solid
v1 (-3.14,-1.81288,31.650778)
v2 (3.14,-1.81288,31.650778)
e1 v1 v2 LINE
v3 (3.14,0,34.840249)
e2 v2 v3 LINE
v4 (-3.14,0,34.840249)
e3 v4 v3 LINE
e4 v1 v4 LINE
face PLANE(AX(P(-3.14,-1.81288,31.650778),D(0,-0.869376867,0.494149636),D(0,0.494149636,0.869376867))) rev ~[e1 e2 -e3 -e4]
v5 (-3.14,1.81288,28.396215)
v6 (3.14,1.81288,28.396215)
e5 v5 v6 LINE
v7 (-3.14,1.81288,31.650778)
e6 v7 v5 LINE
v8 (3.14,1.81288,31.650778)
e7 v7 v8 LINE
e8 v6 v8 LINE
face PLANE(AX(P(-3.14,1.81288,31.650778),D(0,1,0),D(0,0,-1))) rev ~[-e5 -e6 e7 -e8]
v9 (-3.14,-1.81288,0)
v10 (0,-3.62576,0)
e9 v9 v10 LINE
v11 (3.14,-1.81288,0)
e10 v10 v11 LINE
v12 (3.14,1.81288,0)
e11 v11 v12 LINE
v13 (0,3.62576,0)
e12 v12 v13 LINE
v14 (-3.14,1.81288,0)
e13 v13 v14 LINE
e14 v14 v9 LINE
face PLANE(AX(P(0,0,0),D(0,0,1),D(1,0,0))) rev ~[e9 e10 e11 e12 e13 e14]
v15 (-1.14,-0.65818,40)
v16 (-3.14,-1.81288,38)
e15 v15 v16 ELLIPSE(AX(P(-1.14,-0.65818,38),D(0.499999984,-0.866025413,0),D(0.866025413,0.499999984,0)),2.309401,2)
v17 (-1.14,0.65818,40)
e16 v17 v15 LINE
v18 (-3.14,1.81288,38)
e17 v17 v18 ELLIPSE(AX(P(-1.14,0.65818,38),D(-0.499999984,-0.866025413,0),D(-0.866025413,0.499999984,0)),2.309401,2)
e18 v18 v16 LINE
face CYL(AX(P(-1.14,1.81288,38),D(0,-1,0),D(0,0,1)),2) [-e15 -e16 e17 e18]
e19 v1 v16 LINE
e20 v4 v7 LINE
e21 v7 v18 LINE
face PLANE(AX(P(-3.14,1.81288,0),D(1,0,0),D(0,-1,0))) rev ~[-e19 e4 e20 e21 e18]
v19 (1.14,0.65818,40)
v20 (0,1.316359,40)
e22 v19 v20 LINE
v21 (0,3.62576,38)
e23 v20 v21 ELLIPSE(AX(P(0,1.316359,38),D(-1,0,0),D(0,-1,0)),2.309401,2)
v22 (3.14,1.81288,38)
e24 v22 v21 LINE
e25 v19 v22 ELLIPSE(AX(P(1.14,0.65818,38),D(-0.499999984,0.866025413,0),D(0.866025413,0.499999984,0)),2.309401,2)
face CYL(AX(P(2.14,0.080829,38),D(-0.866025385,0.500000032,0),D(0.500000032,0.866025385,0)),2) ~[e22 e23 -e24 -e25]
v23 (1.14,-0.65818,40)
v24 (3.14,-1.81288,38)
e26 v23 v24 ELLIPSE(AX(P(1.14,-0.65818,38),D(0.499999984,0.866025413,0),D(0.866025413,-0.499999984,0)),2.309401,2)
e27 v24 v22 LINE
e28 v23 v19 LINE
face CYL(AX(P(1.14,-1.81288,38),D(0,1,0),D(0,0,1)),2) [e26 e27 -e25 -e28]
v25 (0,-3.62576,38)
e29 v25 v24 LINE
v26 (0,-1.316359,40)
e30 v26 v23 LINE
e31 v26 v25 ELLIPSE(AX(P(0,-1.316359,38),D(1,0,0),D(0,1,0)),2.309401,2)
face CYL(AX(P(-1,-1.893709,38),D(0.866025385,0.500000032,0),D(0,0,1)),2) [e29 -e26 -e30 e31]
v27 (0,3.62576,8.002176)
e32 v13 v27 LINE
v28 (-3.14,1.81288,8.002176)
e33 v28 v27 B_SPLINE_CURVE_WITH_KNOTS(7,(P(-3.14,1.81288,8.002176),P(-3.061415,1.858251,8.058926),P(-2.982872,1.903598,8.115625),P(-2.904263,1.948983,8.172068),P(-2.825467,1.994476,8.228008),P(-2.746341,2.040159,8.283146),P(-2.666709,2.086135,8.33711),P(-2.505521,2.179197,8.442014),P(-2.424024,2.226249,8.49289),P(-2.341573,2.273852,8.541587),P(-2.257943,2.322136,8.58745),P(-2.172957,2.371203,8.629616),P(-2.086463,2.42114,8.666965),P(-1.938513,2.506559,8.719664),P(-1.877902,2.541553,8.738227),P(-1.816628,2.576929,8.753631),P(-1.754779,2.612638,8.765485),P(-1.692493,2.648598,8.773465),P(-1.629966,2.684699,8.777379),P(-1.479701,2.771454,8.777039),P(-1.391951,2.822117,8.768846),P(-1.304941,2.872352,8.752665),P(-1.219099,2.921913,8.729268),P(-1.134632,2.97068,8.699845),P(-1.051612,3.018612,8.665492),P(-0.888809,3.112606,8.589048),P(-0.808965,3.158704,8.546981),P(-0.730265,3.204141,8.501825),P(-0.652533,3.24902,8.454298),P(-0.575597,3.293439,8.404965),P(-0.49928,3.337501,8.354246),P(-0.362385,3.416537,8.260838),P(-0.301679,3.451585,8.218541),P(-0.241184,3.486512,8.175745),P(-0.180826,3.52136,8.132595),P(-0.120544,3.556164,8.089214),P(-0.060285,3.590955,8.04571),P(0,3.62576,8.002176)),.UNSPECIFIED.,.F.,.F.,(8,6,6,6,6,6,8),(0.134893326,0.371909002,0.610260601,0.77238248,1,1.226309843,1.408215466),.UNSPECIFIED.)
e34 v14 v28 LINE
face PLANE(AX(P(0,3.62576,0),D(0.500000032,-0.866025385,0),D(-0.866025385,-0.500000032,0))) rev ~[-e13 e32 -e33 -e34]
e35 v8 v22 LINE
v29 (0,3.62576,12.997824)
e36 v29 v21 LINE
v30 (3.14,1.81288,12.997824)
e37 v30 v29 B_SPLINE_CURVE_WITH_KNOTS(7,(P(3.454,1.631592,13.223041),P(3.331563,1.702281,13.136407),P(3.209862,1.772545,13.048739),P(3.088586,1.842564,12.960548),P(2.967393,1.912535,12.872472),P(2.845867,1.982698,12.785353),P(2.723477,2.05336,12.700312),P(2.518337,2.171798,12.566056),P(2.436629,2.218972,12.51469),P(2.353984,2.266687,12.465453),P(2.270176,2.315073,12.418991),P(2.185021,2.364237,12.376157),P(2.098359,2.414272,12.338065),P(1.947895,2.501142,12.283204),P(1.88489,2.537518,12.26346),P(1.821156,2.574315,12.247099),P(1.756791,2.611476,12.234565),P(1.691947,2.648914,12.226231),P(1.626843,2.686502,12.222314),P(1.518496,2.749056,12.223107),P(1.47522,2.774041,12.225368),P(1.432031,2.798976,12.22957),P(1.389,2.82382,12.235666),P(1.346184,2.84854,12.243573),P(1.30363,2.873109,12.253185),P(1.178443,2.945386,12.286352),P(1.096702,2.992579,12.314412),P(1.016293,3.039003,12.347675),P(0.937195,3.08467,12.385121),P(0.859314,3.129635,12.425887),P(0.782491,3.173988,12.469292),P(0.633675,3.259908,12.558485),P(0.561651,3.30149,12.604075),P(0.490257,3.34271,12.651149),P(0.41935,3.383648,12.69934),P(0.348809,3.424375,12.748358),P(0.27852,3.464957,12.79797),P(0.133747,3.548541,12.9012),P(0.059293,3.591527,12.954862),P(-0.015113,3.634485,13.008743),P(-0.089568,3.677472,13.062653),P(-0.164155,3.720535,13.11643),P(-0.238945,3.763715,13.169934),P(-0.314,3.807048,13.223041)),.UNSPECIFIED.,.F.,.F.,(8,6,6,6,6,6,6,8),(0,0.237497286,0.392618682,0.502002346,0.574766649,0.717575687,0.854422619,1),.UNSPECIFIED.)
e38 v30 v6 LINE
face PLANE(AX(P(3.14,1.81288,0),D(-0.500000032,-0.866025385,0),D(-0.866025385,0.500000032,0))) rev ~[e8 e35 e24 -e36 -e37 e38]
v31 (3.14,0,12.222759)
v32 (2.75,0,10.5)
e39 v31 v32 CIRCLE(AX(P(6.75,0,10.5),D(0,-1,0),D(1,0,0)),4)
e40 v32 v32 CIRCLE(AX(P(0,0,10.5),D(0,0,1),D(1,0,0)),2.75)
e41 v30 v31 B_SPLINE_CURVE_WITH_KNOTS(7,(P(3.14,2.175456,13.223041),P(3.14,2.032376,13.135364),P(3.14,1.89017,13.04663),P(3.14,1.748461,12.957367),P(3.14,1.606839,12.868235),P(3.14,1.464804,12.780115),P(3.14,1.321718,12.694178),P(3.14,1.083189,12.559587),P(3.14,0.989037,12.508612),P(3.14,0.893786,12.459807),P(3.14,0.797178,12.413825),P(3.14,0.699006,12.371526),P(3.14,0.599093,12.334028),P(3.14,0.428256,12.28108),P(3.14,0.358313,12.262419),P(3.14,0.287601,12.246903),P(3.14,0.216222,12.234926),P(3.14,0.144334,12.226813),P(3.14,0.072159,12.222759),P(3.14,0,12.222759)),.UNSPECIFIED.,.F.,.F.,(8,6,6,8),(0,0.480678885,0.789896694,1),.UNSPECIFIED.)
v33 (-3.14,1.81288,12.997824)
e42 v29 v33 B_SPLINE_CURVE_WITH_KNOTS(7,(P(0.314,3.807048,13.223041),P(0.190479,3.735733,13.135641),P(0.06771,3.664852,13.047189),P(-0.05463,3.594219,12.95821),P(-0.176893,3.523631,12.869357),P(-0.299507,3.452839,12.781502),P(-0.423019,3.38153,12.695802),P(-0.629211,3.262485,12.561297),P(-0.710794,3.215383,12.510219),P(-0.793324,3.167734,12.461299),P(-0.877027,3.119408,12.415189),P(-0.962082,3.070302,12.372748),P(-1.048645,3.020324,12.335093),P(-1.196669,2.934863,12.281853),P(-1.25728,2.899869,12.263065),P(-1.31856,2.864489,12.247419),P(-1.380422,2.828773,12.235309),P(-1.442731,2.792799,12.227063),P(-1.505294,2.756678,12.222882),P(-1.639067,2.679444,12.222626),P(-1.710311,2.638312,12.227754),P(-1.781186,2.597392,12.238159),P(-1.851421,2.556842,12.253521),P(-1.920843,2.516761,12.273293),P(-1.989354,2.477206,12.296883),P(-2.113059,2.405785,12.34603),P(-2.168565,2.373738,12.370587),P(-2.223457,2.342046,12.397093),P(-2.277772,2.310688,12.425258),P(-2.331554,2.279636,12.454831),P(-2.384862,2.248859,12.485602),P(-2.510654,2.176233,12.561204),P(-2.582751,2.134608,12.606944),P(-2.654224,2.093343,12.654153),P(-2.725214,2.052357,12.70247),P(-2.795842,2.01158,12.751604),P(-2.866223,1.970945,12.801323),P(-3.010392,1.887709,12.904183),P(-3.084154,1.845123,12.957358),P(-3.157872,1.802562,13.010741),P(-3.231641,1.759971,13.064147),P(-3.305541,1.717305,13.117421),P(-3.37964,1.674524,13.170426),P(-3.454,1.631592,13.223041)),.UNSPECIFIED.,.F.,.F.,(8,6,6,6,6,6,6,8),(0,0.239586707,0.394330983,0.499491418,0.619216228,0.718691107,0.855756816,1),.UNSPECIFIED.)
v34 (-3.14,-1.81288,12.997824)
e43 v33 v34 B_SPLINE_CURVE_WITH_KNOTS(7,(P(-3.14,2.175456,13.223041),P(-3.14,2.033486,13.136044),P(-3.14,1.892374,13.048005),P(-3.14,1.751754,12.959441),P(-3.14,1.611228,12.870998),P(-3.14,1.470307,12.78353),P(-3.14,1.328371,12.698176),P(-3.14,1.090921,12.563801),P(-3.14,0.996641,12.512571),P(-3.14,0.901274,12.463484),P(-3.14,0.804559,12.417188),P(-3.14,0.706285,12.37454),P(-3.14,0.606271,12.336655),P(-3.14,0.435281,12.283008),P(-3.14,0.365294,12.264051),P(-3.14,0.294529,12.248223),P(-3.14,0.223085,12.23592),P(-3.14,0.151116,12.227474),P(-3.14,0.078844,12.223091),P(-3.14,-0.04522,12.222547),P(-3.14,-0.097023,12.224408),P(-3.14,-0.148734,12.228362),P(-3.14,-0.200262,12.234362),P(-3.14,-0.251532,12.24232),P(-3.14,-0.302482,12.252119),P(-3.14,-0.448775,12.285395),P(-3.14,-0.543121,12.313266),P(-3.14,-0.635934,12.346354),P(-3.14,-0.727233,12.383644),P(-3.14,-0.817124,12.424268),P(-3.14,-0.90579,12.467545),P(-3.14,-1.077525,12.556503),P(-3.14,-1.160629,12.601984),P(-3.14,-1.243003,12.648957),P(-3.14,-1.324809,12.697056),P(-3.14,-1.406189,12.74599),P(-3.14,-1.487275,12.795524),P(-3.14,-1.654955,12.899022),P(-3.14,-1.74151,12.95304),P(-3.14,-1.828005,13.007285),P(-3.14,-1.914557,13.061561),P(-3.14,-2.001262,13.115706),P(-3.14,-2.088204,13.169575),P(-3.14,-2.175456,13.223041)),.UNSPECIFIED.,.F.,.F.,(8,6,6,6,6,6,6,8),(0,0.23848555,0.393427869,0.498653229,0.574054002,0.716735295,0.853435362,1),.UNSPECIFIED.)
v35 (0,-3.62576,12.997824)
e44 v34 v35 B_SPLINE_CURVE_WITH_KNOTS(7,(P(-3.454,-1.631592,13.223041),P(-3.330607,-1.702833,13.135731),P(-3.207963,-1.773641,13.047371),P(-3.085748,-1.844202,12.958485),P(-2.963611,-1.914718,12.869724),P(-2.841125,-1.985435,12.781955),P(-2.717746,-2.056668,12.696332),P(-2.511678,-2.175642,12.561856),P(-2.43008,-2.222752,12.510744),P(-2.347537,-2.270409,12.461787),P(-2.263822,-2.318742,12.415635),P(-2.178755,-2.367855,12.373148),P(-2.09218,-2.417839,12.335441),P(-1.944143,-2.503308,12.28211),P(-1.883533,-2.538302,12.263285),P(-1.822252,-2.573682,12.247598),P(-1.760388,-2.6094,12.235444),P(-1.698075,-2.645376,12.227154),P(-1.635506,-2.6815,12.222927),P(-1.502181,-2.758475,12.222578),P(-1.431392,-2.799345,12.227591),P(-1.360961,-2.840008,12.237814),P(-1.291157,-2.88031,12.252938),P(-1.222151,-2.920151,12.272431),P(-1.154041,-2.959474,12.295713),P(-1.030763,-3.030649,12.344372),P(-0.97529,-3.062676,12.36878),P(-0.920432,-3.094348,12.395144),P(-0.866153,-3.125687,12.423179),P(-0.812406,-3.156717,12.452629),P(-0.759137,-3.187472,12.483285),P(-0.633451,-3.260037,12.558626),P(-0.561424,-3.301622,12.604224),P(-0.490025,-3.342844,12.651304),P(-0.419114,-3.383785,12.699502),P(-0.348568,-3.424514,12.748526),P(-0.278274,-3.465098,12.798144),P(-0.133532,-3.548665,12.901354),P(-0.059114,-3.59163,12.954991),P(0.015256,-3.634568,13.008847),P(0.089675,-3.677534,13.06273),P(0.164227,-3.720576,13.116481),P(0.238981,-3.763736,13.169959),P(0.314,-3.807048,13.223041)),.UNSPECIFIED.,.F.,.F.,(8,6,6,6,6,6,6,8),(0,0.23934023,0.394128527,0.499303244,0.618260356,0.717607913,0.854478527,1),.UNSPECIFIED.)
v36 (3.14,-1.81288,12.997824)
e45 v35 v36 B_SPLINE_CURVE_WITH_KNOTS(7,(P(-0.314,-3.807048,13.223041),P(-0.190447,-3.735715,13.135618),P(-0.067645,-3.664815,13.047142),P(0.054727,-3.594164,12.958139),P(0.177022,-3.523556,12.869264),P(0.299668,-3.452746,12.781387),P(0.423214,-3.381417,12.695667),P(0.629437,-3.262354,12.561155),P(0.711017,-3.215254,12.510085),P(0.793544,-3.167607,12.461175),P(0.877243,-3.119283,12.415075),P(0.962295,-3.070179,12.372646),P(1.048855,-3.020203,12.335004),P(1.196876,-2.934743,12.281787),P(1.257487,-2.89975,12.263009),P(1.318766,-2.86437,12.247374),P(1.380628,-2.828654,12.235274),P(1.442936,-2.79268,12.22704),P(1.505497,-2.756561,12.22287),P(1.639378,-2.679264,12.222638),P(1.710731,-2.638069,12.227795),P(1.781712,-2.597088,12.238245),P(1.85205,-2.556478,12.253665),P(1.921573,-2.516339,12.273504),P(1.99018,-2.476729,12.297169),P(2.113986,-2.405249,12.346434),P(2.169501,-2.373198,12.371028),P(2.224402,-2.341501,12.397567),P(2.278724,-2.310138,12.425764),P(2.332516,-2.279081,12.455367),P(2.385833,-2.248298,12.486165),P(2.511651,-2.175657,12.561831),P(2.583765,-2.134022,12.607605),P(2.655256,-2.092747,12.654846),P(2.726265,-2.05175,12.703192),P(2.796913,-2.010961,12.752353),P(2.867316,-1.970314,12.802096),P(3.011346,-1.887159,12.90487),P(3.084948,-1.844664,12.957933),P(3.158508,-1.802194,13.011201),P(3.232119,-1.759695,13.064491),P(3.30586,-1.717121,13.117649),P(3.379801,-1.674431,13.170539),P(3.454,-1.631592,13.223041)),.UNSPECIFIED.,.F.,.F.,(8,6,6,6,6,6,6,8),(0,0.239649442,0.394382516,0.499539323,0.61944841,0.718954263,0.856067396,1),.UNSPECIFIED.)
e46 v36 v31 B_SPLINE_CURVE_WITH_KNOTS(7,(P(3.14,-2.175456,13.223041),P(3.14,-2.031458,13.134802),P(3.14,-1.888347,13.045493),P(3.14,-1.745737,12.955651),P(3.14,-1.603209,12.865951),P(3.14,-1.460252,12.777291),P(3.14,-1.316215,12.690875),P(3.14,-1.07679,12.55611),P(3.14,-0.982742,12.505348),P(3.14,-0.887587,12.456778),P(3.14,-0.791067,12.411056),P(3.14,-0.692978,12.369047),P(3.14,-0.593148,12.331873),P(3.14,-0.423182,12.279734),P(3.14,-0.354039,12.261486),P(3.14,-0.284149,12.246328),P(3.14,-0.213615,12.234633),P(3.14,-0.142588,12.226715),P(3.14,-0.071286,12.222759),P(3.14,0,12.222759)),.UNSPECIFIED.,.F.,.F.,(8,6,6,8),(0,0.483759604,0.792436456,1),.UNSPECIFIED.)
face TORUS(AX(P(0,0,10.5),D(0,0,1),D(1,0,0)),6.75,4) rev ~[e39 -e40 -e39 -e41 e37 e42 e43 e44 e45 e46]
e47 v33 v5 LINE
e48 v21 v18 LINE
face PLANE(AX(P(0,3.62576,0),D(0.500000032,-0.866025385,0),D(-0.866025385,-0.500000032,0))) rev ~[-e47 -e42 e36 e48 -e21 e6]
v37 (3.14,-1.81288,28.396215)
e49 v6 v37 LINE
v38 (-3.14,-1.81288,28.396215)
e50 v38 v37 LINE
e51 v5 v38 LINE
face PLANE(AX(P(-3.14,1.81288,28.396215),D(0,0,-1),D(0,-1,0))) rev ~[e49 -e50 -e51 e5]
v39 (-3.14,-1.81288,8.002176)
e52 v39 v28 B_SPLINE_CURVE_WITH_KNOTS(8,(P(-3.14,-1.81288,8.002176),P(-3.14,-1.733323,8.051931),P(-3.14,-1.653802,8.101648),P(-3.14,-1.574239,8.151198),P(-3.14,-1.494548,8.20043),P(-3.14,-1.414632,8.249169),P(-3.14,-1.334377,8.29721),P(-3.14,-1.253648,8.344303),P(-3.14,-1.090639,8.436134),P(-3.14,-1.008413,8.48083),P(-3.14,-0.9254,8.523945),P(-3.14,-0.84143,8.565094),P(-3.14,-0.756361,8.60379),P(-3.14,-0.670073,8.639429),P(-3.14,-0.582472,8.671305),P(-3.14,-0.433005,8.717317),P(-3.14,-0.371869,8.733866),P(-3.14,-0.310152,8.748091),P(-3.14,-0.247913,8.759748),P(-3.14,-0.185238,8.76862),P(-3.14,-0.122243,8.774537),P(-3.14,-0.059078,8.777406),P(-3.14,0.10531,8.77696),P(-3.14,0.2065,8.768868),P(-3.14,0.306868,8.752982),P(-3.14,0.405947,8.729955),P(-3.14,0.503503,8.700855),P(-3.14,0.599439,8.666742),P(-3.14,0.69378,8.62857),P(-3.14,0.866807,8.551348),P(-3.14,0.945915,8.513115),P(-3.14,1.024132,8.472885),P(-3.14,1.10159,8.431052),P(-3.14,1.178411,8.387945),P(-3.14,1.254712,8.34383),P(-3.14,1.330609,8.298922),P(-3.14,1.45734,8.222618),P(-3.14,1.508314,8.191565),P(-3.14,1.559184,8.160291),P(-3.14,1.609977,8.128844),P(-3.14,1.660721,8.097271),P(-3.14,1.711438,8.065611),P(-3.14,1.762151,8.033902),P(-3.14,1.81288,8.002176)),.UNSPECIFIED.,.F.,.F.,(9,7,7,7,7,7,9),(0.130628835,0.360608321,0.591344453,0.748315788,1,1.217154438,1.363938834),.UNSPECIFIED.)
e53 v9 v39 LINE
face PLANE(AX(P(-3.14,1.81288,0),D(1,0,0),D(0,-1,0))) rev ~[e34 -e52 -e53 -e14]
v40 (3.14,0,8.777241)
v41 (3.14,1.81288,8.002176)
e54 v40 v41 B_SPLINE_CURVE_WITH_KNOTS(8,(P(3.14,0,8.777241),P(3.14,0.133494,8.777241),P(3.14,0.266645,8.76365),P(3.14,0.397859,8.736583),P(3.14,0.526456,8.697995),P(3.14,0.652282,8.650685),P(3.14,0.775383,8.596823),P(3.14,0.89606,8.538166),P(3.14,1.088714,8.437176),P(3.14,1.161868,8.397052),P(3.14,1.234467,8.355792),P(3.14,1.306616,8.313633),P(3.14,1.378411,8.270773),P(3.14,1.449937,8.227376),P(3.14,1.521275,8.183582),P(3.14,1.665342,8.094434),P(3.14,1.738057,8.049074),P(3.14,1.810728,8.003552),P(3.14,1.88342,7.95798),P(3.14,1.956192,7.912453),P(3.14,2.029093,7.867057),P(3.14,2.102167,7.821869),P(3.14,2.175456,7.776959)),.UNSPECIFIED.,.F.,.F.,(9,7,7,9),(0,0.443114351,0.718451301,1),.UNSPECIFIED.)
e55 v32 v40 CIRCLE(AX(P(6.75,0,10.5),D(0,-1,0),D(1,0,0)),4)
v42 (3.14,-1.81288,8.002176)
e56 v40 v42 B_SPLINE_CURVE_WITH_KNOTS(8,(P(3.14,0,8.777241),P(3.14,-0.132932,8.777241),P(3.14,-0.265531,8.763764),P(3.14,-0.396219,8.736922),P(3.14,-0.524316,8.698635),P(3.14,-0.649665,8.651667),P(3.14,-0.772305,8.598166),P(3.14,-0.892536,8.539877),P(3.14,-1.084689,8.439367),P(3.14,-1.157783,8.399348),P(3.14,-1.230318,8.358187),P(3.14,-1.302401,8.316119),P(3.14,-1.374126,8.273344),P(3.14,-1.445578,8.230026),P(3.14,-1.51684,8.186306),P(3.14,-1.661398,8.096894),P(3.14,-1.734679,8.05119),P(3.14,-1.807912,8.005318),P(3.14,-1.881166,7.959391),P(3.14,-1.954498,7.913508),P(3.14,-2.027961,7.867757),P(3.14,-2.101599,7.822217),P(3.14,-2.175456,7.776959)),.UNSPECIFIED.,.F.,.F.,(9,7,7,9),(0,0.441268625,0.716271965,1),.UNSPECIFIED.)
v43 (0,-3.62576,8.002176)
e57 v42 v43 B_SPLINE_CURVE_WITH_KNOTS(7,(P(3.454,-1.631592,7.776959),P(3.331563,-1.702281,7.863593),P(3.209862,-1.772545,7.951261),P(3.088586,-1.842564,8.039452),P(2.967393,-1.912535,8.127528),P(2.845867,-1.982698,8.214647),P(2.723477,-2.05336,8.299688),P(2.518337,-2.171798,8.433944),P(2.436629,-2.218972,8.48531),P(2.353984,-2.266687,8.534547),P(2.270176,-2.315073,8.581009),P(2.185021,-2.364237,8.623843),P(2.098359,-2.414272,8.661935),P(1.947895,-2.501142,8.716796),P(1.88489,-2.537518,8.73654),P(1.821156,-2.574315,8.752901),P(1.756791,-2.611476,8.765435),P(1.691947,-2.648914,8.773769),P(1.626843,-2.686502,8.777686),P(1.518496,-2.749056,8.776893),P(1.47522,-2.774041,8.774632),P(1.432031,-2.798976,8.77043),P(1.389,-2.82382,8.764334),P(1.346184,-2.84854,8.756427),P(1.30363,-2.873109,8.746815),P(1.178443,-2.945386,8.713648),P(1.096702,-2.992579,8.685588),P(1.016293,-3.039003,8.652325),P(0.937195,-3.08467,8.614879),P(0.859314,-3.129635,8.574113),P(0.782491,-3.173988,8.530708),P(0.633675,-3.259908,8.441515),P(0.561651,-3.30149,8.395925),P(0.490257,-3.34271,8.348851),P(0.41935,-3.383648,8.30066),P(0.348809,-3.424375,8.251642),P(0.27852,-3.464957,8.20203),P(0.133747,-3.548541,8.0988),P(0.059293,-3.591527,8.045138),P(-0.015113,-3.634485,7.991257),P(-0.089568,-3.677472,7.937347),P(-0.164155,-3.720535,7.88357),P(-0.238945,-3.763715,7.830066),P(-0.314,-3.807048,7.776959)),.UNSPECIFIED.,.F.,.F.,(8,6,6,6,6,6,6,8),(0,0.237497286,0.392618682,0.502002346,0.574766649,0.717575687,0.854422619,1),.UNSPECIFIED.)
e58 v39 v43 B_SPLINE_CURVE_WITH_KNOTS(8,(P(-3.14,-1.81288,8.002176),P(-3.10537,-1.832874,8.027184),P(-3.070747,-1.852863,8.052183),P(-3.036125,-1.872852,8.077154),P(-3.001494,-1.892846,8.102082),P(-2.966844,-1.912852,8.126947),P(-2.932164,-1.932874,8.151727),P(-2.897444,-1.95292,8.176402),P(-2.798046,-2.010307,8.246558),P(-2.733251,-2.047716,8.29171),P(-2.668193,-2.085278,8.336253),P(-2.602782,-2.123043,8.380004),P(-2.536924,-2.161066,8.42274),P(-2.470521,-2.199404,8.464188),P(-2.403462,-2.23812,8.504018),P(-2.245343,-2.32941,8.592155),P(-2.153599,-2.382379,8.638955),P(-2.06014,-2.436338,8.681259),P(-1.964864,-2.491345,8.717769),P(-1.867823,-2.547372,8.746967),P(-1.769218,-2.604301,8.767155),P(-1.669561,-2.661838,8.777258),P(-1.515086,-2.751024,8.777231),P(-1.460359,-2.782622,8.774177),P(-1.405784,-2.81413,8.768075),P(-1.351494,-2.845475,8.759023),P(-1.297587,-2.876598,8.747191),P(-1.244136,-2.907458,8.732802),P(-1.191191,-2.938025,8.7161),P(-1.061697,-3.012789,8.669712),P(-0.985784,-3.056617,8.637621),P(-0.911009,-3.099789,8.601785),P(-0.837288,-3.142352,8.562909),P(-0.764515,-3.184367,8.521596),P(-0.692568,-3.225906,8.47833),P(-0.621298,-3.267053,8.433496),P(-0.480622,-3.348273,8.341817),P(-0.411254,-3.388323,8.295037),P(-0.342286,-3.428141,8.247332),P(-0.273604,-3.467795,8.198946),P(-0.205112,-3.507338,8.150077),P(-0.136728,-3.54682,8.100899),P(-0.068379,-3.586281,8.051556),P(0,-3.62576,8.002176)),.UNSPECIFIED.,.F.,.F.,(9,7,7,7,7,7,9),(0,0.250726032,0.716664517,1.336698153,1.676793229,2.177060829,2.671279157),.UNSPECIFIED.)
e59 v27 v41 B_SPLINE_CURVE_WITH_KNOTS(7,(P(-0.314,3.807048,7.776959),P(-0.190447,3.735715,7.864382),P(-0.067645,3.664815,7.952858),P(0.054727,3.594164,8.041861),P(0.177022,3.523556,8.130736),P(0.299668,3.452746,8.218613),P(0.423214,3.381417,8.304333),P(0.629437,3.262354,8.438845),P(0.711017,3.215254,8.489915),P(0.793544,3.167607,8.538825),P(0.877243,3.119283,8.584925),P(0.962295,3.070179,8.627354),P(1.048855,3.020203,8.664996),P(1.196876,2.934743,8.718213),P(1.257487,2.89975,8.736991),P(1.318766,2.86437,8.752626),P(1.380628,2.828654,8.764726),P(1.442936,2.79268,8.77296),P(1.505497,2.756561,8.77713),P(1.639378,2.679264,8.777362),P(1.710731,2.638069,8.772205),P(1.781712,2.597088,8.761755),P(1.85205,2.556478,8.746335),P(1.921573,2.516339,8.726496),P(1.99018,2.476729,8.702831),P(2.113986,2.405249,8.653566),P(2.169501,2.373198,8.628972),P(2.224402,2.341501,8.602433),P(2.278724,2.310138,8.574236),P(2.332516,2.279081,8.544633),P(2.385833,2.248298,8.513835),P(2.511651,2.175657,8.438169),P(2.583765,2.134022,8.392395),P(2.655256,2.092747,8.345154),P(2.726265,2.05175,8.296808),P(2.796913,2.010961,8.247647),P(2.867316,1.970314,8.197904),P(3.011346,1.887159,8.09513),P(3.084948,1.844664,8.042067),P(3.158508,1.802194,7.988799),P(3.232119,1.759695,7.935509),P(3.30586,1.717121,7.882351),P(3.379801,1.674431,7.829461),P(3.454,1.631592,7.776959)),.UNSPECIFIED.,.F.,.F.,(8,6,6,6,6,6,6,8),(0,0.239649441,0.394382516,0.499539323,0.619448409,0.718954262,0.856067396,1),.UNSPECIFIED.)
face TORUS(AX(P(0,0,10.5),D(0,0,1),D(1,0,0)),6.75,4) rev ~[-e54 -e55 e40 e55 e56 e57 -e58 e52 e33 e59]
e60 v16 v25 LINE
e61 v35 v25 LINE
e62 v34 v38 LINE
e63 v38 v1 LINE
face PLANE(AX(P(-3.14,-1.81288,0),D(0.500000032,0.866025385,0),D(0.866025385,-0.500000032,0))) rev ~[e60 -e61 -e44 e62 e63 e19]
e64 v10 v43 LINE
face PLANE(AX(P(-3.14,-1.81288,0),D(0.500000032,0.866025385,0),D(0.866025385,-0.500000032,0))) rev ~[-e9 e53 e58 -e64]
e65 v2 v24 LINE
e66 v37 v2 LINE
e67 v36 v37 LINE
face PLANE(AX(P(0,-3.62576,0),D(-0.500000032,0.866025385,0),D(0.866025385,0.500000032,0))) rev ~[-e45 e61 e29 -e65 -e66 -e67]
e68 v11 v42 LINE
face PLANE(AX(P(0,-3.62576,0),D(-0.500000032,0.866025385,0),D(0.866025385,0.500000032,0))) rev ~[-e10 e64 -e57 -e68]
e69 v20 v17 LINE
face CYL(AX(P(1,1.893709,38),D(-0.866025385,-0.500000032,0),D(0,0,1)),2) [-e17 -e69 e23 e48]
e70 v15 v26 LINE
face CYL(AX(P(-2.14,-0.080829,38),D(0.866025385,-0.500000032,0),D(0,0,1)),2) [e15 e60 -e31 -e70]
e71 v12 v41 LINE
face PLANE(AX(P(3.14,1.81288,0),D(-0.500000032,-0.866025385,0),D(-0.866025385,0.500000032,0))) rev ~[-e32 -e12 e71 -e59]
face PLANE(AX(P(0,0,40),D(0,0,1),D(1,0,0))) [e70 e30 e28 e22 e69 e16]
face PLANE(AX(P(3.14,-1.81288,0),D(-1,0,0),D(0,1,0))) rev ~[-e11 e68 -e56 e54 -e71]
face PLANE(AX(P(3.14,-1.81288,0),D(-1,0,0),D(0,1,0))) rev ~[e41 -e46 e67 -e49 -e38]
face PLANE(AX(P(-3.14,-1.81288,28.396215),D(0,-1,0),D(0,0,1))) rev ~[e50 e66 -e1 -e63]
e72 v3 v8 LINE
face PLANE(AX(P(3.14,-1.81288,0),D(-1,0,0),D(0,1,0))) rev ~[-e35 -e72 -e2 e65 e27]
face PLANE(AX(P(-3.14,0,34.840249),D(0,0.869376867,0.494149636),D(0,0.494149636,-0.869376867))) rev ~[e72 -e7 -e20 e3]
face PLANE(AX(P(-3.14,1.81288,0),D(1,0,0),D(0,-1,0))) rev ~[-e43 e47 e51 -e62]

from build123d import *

# Parameters (mm, degrees)
F1_DEPTH = 40
F4_R     = 4
F6_R     = 2
F8_DEPTH = 6.281


with BuildPart() as f1:
    # F0 (on Top) → F1 (new body)
    with BuildSketch(Plane.XY):
        Polygon((0, 3.62576), (-3.14, 1.81288), (-3.14, -1.81288), (0, -3.62576), (3.14, -1.81288), (3.14, 1.81288), align=None)
    extrude(amount=F1_DEPTH)

    # F5: sweep along a path in F3
    with BuildLine(Plane.XY.offset(10.5)) as f5_path:
        CenterArc((0, 0), 6.75, 0, 360)
    # F4 (on Front) → F5 (sweep, cut)
    with BuildSketch(Plane.XZ):
        with Locations((-6.75, 10.5)):
            Circle(F4_R)
    sweep(path=f5_path.line, mode=Mode.SUBTRACT)

    # F6
    f6_edges = [f1.edges().sort_by_distance(p)[0] for p in [
        (1.57, -2.71932, 40),
        (-1.57, -2.71932, 40),
        (3.14, 0, 40),
        (-1.57, 2.71932, 40),
        (-3.14, 0, 40),
        (1.57, 2.71932, 40),
    ]]
    fillet(f6_edges, radius=F6_R)

    # F7 (on face) → F8 (cut, through all)
    with BuildSketch(Plane(origin=(-3.14, 0, 0), x_dir=(0, -1, 0), z_dir=(-1, 0, 0))):
        Polygon((1.81288, 31.650778), (0, 34.840249), (-1.81288, 31.650778), (-1.81288, 28.396215), (1.81288, 28.396215), align=None)
    extrude(amount=-F8_DEPTH, mode=Mode.SUBTRACT)


solid = f1.part
